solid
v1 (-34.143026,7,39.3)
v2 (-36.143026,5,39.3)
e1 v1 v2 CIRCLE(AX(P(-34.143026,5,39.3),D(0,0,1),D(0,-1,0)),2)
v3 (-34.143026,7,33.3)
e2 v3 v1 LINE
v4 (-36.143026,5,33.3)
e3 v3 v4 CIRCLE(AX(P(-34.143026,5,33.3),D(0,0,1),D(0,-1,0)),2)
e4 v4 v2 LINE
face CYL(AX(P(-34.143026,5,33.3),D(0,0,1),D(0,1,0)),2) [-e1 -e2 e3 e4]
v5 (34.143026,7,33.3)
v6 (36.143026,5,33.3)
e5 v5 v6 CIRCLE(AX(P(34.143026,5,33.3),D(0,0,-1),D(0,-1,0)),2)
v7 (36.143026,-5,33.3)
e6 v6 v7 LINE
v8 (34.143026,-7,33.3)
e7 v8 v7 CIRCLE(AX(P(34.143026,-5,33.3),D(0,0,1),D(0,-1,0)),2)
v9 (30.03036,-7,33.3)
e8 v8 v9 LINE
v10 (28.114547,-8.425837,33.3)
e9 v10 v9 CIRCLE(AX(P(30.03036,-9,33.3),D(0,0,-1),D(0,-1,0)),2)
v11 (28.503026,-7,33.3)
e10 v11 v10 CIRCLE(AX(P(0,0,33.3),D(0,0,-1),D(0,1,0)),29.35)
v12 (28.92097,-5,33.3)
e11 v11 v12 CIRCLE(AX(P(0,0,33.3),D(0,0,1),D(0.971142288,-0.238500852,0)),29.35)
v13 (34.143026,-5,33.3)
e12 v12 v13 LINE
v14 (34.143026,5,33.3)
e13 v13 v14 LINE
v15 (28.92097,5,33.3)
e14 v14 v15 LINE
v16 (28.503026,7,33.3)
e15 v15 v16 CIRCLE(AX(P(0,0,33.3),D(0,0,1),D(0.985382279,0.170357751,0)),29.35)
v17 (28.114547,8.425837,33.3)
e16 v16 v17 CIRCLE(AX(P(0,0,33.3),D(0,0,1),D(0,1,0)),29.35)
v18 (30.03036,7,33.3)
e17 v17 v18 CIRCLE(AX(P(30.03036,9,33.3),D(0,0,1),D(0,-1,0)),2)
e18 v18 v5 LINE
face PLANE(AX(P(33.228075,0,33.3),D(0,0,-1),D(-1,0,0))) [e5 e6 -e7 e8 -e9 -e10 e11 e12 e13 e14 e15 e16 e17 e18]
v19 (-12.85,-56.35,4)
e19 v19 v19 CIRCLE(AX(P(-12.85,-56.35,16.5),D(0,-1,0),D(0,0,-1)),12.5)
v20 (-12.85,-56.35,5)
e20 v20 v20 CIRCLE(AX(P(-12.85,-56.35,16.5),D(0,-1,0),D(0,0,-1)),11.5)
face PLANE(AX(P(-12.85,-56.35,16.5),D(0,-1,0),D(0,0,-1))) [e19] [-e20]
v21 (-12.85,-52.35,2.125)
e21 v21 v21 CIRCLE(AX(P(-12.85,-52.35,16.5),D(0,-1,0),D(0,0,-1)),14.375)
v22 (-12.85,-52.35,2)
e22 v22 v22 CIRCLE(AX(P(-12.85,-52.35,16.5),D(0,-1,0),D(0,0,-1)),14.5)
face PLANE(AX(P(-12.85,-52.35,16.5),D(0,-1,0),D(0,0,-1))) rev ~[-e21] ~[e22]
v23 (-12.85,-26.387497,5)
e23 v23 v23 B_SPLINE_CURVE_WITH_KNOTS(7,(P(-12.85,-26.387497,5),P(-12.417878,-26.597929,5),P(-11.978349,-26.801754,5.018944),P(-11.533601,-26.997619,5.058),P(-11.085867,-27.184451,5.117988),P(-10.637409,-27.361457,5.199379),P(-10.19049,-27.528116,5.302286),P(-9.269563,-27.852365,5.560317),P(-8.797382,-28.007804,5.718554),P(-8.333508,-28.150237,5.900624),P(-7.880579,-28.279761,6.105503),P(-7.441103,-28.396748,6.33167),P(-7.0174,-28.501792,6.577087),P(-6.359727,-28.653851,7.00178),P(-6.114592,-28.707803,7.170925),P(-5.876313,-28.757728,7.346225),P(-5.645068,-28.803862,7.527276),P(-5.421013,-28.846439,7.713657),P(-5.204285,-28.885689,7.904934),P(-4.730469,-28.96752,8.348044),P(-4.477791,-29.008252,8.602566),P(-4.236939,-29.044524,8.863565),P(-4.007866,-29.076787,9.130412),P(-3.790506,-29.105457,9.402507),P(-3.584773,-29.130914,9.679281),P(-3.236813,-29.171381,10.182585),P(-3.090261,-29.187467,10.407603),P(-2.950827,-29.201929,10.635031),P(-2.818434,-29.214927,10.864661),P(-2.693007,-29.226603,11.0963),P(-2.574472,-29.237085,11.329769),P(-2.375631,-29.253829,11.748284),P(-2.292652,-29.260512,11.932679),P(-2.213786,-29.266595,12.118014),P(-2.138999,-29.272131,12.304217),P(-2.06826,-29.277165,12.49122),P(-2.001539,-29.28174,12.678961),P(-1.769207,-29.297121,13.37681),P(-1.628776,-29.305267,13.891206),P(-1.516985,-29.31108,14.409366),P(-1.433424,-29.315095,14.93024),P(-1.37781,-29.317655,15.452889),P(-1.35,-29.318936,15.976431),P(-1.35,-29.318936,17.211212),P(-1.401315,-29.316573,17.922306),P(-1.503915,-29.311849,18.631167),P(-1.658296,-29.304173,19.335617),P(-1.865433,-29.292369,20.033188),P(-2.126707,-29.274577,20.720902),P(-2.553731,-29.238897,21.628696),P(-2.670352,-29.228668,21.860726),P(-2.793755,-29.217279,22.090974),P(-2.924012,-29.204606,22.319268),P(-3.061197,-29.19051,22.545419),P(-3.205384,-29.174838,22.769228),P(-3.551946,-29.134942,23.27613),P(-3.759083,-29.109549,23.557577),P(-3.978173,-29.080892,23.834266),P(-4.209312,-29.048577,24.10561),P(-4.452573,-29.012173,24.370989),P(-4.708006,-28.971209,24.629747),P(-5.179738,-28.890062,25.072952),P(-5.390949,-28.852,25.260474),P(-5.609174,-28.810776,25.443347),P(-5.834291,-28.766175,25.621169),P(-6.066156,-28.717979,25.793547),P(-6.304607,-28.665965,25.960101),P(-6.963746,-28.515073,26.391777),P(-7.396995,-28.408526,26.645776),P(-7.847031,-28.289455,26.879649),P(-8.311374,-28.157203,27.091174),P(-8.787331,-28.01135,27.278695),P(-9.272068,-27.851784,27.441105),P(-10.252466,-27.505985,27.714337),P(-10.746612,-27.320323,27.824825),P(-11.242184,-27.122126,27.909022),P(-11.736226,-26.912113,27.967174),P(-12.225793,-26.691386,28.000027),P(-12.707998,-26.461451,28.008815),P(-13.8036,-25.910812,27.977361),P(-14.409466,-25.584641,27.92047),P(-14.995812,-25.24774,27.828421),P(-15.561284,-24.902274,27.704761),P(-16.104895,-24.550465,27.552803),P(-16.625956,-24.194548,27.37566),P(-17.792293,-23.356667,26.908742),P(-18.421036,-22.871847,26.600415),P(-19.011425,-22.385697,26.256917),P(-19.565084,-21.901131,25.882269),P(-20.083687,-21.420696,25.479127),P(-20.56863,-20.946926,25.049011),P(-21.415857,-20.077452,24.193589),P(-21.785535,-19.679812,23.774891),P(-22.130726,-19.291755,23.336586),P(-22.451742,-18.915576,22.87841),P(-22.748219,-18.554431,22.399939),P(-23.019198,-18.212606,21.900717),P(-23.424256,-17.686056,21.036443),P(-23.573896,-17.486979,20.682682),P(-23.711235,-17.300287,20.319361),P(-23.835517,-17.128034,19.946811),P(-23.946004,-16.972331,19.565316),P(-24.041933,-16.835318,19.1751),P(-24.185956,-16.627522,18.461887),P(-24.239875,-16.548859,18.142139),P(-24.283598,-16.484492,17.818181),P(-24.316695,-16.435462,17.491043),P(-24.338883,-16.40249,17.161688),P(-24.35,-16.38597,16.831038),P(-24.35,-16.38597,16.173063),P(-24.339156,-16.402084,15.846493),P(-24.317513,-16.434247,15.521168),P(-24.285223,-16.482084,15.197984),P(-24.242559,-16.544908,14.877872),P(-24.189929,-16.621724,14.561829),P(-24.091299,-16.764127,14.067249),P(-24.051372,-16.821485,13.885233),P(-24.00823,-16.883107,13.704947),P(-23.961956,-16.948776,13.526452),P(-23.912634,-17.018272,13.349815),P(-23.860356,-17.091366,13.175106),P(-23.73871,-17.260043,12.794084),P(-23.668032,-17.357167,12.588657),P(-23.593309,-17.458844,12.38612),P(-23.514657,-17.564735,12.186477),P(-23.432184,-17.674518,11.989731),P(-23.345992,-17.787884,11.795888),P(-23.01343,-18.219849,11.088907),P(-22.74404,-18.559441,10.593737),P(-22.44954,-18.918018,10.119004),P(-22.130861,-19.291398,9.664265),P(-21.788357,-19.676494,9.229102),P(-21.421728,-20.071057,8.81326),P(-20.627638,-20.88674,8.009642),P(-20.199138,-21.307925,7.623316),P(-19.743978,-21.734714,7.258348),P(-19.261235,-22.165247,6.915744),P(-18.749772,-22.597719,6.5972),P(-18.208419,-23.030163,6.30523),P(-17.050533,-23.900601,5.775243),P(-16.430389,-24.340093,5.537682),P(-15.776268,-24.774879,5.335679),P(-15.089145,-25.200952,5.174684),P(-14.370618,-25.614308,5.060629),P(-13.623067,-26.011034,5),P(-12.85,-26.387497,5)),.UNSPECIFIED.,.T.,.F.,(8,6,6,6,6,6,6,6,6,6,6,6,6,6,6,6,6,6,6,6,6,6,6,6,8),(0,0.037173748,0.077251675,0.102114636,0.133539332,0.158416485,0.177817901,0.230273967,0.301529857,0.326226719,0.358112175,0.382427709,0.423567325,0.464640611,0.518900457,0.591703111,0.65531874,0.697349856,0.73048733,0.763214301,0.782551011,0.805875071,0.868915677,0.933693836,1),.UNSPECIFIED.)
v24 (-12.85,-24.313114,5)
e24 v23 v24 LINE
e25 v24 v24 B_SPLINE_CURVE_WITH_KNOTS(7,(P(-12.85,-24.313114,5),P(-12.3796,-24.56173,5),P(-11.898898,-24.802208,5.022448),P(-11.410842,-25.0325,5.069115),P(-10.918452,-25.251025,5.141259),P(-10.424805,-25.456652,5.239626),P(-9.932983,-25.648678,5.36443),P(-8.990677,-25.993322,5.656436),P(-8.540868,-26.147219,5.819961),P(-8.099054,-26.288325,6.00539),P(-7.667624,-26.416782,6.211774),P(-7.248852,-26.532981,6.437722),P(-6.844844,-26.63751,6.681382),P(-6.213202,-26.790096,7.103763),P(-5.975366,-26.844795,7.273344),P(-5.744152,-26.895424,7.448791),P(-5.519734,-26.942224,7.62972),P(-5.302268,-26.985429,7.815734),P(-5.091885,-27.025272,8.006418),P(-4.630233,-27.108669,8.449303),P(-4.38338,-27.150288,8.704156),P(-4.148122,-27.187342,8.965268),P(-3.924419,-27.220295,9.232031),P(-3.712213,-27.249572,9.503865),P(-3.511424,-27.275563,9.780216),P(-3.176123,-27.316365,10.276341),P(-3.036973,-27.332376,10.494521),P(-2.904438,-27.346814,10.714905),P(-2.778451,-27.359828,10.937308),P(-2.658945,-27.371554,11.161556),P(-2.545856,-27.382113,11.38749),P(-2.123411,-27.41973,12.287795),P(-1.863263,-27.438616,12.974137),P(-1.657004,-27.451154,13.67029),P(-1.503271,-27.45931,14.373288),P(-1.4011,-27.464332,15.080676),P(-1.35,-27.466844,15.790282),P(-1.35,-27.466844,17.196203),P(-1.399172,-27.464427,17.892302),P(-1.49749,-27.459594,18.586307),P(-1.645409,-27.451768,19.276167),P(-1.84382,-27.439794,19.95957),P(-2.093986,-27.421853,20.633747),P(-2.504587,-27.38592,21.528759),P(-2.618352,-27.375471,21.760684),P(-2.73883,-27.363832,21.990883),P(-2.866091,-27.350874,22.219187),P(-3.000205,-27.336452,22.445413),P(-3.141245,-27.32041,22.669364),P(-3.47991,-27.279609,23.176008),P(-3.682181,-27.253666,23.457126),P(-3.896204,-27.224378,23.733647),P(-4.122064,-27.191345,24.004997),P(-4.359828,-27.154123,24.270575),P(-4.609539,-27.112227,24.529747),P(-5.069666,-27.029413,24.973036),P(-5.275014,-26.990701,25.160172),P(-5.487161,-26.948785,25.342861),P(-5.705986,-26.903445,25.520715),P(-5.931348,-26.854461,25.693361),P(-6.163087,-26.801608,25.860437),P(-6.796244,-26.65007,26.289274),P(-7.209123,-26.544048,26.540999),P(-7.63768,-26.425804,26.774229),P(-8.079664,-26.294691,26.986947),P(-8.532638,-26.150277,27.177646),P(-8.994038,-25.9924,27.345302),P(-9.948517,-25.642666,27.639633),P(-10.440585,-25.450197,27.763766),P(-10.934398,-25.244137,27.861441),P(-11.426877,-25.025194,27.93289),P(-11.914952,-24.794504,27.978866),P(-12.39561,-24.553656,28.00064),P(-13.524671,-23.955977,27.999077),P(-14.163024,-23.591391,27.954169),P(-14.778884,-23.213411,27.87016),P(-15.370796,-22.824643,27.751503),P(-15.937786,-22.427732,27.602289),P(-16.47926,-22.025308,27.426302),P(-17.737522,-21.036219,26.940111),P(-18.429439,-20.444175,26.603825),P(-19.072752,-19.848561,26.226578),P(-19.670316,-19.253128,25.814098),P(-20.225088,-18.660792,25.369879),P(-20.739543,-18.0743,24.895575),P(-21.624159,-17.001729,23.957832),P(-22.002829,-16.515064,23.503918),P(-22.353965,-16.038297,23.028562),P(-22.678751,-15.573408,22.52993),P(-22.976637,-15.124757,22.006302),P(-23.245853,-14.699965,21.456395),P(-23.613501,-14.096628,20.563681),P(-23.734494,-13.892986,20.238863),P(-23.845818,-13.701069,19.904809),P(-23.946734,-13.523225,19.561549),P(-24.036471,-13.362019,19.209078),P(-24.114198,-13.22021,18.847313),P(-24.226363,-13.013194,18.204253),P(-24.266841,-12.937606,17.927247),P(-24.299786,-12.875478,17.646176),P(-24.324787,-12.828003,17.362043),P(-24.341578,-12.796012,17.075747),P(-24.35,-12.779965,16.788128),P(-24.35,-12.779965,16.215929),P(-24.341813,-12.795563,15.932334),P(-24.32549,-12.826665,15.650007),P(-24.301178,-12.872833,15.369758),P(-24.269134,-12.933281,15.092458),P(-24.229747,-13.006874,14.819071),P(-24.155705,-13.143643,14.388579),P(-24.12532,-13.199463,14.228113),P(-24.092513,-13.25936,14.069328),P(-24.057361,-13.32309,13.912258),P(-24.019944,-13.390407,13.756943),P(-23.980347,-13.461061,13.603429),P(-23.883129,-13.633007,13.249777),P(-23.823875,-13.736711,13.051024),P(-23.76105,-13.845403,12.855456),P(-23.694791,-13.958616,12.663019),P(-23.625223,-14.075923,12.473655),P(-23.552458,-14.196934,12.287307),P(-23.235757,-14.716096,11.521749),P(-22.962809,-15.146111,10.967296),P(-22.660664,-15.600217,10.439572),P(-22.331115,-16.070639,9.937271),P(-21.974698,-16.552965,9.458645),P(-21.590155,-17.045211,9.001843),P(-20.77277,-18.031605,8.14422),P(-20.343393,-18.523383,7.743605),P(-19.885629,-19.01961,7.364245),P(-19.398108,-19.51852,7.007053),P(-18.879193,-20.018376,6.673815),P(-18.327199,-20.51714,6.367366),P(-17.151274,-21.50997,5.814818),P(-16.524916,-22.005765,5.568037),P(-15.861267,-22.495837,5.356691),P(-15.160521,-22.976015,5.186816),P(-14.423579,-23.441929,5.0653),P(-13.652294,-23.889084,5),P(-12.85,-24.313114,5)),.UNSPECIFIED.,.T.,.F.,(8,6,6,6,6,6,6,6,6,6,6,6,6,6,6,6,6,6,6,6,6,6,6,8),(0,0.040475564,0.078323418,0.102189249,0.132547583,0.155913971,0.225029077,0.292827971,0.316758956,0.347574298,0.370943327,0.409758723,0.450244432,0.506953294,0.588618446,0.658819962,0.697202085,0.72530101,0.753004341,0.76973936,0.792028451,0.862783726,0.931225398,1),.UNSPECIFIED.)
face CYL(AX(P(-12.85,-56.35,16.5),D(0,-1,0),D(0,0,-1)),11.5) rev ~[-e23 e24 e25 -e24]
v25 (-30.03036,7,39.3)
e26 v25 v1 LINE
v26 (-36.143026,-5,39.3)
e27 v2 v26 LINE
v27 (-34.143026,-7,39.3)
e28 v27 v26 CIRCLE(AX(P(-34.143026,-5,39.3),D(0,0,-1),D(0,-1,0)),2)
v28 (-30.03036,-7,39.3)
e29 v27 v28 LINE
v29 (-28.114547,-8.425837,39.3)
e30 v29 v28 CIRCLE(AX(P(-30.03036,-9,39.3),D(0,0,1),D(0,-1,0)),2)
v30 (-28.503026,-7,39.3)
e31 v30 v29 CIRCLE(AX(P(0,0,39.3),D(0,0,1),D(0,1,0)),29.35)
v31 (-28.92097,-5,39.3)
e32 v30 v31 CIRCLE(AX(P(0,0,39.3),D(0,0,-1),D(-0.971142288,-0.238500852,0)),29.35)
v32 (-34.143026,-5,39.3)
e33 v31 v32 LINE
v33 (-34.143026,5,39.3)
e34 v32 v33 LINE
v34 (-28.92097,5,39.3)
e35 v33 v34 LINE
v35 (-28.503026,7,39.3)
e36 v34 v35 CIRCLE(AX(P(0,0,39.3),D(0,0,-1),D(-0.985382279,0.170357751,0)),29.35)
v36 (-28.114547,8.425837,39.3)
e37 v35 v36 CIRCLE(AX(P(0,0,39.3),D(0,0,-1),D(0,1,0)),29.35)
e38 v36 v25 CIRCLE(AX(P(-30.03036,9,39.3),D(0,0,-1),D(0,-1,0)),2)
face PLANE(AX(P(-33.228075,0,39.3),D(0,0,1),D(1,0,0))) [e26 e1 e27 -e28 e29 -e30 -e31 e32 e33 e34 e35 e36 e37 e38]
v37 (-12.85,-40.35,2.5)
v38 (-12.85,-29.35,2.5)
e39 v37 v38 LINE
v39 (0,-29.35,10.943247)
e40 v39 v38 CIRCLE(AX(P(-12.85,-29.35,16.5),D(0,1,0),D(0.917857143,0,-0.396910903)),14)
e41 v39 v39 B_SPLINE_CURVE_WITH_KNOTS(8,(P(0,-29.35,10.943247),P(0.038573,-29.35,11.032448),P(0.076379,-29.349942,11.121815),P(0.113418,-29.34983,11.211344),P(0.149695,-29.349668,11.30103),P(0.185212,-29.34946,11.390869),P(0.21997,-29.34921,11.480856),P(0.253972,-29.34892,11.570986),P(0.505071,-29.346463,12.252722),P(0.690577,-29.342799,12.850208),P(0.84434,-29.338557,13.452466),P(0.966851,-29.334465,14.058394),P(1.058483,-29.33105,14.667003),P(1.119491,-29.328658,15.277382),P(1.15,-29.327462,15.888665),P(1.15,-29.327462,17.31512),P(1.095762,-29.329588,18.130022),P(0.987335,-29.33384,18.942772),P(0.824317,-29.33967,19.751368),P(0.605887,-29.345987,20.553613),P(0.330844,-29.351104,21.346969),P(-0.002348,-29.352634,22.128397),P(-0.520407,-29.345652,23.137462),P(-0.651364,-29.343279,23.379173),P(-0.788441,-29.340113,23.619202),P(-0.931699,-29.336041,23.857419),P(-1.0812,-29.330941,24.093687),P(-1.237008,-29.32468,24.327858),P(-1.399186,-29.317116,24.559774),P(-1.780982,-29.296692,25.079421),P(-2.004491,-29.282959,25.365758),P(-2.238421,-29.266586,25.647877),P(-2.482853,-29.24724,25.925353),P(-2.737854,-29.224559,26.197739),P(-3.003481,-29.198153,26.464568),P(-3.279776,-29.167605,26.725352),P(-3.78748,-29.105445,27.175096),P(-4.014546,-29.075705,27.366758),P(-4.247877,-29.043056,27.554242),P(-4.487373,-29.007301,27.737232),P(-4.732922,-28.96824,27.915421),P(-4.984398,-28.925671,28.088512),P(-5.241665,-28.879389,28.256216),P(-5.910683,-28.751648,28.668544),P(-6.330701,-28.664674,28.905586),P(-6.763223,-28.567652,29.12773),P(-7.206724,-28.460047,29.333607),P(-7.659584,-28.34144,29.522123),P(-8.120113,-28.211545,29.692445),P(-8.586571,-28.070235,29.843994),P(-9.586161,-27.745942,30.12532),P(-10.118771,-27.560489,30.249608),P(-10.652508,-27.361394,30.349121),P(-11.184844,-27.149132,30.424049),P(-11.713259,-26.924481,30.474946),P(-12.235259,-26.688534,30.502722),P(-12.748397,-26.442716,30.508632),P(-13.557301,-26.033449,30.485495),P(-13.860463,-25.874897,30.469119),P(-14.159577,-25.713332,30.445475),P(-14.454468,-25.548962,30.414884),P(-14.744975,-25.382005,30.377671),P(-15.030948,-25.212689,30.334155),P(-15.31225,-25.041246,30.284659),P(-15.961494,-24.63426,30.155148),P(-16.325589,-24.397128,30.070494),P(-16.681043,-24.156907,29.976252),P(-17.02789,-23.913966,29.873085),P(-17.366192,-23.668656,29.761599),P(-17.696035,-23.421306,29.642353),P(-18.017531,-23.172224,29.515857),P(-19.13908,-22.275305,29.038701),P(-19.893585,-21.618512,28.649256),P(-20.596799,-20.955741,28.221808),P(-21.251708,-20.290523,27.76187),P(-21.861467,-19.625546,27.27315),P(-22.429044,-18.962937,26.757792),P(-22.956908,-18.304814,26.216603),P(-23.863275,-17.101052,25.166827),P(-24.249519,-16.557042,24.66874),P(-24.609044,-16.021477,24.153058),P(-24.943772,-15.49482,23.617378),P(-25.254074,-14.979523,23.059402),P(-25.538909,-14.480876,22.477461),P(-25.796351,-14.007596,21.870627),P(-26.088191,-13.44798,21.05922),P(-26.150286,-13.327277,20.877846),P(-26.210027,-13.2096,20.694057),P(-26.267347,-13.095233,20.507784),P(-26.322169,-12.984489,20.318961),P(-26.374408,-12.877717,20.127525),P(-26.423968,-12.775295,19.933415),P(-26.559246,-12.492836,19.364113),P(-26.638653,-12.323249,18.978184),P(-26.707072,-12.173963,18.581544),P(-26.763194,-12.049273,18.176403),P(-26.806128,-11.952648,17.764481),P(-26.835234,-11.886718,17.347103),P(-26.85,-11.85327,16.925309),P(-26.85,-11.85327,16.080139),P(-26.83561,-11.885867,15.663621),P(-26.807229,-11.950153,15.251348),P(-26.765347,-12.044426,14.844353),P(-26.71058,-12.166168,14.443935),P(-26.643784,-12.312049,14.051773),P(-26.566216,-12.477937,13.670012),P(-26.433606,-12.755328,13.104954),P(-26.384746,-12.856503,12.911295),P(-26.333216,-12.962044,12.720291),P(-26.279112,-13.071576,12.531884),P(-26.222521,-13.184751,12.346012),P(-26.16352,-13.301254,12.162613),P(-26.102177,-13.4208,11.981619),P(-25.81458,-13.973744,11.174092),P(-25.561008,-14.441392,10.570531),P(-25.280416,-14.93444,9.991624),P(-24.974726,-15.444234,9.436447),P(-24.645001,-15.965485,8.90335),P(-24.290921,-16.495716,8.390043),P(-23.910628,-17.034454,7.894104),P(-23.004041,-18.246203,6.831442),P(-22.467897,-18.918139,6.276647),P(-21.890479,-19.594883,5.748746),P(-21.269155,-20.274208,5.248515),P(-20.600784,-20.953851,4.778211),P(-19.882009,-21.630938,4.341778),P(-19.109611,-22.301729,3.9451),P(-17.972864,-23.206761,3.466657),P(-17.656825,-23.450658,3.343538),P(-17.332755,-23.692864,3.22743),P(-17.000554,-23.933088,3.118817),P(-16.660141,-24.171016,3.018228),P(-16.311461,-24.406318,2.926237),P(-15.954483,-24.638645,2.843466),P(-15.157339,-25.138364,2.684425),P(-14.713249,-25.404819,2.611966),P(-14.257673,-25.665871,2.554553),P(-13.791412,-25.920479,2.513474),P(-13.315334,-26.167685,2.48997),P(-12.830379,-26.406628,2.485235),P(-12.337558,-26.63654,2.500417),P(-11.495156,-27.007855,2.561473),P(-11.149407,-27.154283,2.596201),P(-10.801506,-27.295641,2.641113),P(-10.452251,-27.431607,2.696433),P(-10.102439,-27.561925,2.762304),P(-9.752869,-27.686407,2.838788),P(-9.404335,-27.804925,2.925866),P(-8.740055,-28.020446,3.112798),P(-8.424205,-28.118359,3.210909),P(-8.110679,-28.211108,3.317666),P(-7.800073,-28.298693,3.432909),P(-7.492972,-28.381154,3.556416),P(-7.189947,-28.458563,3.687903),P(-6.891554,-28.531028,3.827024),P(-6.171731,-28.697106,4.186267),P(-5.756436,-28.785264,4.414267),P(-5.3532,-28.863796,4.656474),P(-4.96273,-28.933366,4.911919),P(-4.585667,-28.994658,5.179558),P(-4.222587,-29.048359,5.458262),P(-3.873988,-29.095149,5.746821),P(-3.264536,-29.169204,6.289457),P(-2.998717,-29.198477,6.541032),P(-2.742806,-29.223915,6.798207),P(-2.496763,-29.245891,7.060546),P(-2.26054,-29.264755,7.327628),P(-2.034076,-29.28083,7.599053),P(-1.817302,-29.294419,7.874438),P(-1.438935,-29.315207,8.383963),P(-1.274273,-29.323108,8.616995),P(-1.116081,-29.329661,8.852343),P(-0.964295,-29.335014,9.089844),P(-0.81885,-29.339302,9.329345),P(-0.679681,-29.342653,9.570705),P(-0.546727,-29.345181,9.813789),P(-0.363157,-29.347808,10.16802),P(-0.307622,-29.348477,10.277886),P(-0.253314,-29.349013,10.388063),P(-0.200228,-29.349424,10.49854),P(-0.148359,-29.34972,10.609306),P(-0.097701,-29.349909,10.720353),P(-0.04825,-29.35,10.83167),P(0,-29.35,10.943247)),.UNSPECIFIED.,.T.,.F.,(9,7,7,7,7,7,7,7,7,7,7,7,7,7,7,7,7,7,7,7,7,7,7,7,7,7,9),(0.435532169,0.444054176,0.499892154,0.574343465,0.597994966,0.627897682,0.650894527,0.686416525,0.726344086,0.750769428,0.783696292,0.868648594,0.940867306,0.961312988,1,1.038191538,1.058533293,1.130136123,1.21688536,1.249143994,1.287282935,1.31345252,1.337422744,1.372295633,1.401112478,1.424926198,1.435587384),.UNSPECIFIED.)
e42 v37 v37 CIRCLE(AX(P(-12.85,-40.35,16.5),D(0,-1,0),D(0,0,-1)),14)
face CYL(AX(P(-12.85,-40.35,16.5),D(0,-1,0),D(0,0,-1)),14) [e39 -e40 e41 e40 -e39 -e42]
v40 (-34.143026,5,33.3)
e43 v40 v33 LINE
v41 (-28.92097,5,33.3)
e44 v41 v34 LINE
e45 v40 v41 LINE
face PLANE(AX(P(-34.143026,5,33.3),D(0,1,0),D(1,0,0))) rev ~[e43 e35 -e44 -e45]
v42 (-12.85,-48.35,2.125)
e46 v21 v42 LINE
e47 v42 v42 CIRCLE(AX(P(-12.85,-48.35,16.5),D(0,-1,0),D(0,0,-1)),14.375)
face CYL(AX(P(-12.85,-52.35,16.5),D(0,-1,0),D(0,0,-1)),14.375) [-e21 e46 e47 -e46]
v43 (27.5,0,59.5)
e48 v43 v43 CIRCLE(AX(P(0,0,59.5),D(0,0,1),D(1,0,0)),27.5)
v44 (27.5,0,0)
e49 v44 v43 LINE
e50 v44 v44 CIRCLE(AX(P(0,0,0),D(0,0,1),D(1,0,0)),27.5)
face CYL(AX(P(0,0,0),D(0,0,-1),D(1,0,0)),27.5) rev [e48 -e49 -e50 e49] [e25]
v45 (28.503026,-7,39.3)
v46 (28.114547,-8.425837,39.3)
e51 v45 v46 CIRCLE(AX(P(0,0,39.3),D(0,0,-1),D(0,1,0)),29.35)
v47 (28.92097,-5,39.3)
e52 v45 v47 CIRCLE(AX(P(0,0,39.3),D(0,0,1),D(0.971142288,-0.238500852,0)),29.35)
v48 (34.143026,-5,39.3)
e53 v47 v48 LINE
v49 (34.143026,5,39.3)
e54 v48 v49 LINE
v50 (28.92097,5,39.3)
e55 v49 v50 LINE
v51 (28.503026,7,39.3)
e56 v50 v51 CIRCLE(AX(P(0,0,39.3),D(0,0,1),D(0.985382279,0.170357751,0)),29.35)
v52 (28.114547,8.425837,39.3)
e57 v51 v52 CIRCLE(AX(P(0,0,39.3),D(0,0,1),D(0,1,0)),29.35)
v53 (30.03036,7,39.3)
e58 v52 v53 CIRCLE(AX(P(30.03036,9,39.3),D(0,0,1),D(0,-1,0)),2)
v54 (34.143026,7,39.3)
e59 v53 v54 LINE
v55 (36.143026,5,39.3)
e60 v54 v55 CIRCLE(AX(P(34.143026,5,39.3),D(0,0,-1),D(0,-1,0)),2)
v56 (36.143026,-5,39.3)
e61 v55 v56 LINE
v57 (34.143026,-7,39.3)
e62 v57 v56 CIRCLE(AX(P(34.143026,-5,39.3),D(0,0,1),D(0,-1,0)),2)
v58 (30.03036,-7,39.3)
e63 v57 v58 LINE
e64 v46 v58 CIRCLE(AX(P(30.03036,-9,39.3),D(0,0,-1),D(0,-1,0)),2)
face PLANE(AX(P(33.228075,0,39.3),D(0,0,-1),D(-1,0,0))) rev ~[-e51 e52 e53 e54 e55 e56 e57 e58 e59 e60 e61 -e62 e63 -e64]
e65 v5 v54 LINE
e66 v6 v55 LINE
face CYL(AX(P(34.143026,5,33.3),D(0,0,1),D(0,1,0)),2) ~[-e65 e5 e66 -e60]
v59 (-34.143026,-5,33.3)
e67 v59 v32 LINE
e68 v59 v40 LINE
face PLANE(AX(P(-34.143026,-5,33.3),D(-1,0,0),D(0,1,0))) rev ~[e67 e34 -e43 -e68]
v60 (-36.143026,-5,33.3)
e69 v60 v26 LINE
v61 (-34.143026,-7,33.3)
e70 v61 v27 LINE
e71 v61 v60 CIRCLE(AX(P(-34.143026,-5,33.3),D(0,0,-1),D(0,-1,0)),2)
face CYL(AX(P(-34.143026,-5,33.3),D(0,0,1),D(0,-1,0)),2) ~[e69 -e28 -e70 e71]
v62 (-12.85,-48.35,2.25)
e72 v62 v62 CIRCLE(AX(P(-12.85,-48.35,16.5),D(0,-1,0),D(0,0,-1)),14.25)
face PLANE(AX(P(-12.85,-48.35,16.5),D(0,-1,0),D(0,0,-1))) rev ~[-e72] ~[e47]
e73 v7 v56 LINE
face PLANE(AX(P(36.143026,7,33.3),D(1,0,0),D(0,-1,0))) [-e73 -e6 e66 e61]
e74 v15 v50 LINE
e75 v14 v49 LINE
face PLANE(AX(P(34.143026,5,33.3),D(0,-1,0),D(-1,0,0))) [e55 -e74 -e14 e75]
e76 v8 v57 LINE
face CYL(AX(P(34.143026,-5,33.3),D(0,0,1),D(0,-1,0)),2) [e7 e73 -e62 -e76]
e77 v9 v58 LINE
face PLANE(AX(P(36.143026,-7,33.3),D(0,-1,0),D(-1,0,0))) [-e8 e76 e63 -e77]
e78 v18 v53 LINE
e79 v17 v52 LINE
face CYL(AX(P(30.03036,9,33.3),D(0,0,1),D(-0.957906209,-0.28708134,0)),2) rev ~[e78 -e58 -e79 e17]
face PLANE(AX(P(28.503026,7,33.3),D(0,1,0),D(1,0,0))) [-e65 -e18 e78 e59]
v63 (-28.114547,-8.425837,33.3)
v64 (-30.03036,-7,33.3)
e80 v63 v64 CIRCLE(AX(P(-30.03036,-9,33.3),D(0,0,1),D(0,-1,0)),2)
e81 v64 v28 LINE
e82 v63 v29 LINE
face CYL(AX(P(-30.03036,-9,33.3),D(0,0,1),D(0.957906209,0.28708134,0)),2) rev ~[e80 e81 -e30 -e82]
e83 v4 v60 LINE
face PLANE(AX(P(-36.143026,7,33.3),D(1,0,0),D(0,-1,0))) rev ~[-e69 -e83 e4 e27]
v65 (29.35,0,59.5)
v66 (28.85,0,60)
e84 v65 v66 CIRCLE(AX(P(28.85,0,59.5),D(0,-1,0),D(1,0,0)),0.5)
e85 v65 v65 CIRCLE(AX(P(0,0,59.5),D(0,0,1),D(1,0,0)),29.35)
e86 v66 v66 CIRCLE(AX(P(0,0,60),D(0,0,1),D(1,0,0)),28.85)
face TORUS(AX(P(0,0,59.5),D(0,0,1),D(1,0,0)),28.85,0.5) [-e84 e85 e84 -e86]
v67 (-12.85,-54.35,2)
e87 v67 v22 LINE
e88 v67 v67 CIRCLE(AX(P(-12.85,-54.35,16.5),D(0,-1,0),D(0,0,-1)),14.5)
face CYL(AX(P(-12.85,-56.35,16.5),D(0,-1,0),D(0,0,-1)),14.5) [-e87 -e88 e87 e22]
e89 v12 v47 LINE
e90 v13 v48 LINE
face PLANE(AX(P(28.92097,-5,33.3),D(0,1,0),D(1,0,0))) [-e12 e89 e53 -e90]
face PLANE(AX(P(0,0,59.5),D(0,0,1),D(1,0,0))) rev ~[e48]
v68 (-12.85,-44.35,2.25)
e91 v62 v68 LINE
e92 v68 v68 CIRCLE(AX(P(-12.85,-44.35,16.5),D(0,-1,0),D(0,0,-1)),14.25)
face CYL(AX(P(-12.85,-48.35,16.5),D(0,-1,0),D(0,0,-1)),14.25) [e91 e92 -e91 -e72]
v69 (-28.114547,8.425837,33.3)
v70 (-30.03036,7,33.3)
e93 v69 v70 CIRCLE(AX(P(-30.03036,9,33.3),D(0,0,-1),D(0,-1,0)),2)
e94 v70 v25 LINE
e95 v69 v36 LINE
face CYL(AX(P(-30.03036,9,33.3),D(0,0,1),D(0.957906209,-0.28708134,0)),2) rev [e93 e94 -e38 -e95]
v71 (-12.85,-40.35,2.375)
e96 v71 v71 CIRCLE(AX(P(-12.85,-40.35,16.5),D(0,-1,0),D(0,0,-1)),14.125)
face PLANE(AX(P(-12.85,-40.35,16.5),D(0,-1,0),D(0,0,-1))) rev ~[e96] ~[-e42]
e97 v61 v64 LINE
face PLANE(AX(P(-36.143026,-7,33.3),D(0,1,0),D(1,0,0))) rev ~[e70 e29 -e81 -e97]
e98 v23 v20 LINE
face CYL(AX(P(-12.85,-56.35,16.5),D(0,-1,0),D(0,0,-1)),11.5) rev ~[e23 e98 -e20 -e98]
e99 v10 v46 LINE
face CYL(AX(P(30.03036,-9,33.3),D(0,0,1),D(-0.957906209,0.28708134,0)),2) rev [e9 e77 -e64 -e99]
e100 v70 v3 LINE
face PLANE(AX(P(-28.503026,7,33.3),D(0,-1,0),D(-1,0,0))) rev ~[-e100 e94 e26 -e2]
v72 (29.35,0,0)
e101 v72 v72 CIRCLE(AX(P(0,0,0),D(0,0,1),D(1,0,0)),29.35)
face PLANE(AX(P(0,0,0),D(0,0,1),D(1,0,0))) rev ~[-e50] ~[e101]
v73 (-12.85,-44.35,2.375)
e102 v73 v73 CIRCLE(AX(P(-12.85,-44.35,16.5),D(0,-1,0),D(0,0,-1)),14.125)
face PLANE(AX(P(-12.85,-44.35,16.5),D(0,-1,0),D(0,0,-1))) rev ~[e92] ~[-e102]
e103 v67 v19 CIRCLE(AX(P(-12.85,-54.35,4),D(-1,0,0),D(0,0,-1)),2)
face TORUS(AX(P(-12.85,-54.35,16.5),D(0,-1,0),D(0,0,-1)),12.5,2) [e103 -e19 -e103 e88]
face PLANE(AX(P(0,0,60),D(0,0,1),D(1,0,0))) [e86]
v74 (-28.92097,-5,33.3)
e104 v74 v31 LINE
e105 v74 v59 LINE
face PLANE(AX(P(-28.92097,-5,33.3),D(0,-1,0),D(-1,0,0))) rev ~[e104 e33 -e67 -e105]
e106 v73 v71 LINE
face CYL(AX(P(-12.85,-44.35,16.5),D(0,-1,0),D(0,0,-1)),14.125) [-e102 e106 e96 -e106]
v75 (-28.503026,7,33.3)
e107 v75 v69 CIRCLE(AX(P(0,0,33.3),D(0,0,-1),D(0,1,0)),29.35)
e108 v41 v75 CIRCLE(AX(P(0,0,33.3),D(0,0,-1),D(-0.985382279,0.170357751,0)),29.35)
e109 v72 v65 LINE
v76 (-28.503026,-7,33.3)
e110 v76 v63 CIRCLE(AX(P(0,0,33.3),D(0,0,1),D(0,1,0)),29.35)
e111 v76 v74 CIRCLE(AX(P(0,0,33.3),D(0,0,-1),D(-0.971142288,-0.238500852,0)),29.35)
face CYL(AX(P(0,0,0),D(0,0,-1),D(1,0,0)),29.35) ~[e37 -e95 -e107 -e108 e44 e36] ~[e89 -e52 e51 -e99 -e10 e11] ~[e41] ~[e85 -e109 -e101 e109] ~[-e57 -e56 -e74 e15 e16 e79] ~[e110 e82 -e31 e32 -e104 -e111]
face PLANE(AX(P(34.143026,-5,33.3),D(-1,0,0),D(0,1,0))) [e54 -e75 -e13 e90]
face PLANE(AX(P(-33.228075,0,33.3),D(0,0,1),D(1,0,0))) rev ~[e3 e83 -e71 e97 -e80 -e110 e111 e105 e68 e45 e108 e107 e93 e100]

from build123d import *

# Parameters (mm, degrees)
SKETCH1_R           = 29.35
SKETCH1_R_2         = 27.5
BOSS_EXTRUDE1_DEPTH = 60
BOSS_EXTRUDE2_DEPTH = 6
FILLET1_R           = 2
FILLET2_R           = 0.5
BOSS_EXTRUDE3_REACH = 93.389
SKETCH3_R           = 14
SKETCH3_R_2         = 11.5
BOSS_EXTRUDE4_START = 11
SKETCH3_3_R         = 14
SKETCH3_3_R_2       = 11.5
BOSS_EXTRUDE4_DEPTH = 11
BOSS_EXTRUDE5_START = 4
SKETCH4_R           = 14.125
SKETCH4_R_2         = 11.5
BOSS_EXTRUDE5_DEPTH = 4
BOSS_EXTRUDE6_START = 4
SKETCH5_R           = 14.25
SKETCH5_R_2         = 11.5
BOSS_EXTRUDE6_DEPTH = 4
BOSS_EXTRUDE7_START = 4
SKETCH6_R           = 14.375
SKETCH6_R_2         = 11.5
BOSS_EXTRUDE7_DEPTH = 4
BOSS_EXTRUDE8_START = 4
SKETCH7_R           = 14.5
SKETCH7_R_2         = 11.5
BOSS_EXTRUDE8_DEPTH = 4
FILLET3_R           = 2
CUT_EXTRUDE1_REACH  = 112.683
SKETCH8_R           = 11.5
BOSS_EXTRUDE9_START = -0.5
SKETCH9_R           = 27.5
BOSS_EXTRUDE9_DEPTH = 0.5


with BuildPart() as part:
    # Sketch1 → Boss-Extrude1 (new body)
    with BuildSketch(Plane.XY):
        Circle(SKETCH1_R)
        Circle(SKETCH1_R_2, mode=Mode.SUBTRACT)
    extrude(amount=BOSS_EXTRUDE1_DEPTH)

    # Sketch2 → Boss-Extrude2 (add)
    with BuildSketch(Plane.XY.offset(33.3)):
        with BuildLine():
            Line((-28.503026155, 7), (-36.143026155, 7))
            Line((-36.143026155, 7), (-36.143026155, -7))
            Line((-36.143026155, -7), (-28.503026155, -7))
            ThreePointArc((-28.503026155, -7), (-28.729407073, -6.003638001), (-28.920969901, -5))
            Line((-28.920969901, -5), (-34.143026155, -5))
            Line((-34.143026155, -5), (-34.143026155, 5))
            Line((-34.143026155, 5), (-28.920969901, 5))
            ThreePointArc((-28.920969901, 5), (-28.729407073, 6.003638001), (-28.503026155, 7))
        make_face()
        with BuildLine():
            Line((28.503026155, 7), (36.143026155, 7))
            Line((36.143026155, 7), (36.143026155, -7))
            Line((36.143026155, -7), (28.503026155, -7))
            ThreePointArc((28.503026155, -7), (28.729407073, -6.003638001), (28.920969901, -5))
            Line((28.920969901, -5), (34.143026155, -5))
            Line((34.143026155, -5), (34.143026155, 5))
            Line((34.143026155, 5), (28.920969901, 5))
            ThreePointArc((28.920969901, 5), (28.729407073, 6.003638001), (28.503026155, 7))
        make_face()
    extrude(amount=BOSS_EXTRUDE2_DEPTH)

    # Fillet1
    fillet1_edges = [part.edges().sort_by_distance(p)[0] for p in [
        (-28.503026155, 7, 36.3),
        (-36.143026155, 7, 36.3),
        (-36.143026155, -7, 36.3),
        (-28.503026155, -7, 36.3),
        (28.503026155, -7, 36.3),
        (36.143026155, -7, 36.3),
        (36.143026155, 7, 36.3),
        (28.503026155, 7, 36.3),
    ]]
    fillet(fillet1_edges, radius=FILLET1_R)

    # Fillet2
    fillet2_edges = [part.edges().sort_by_distance(p)[0] for p in [
        (-29.35, 0, 60),
    ]]
    fillet(fillet2_edges, radius=FILLET2_R)

    # Sketch3 → Boss-Extrude3 (add, up to next)
    with BuildSketch(Plane(origin=(0, -29.35, 0), x_dir=(-1, 0, 0), z_dir=(0, -1, 0)), mode=Mode.PRIVATE) as boss_extrude3_sk1:
        with Locations((12.85, -16.5)):
            Circle(SKETCH3_R)
        with Locations(Location((12.85, -16.5, 0), (0, 0, 90))):
            Circle(SKETCH3_R_2, mode=Mode.SUBTRACT)
    boss_extrude3_tool1 = extrude(boss_extrude3_sk1.sketch, amount=-BOSS_EXTRUDE3_REACH, mode=Mode.PRIVATE) - part.part
    add(boss_extrude3_tool1.solids().sort_by_distance((0.75402, -29.35, 16.5))[0])
    add(boss_extrude3_tool1.solids().sort_by_distance((0.75402, -29.35, 16.5))[1])

    # Sketch3<3> → Boss-Extrude4 (add)
    with BuildSketch(Plane(origin=(0, -29.35, 0), x_dir=(-1, 0, 0), z_dir=(0, -1, 0)).offset(BOSS_EXTRUDE4_START)):
        with Locations(Location((12.85, -16.5, 0), (0, 0, 90))):
            Circle(SKETCH3_3_R)
        with Locations(Location((12.85, -16.5, 0), (0, 0, 90))):
            Circle(SKETCH3_3_R_2, mode=Mode.SUBTRACT)
    extrude(amount=-BOSS_EXTRUDE4_DEPTH)

    # Sketch4 → Boss-Extrude5 (add)
    with BuildSketch(Plane(origin=(0, -40.35, 0), x_dir=(-1, 0, 0), z_dir=(0, -1, 0)).offset(BOSS_EXTRUDE5_START)):
        with Locations(Location((12.85, -16.5, 0), (0, 0, 90))):
            Circle(SKETCH4_R)
        with Locations(Location((12.85, -16.5, 0), (0, 0, 90))):
            Circle(SKETCH4_R_2, mode=Mode.SUBTRACT)
    extrude(amount=-BOSS_EXTRUDE5_DEPTH)

    # Sketch5 → Boss-Extrude6 (add)
    with BuildSketch(Plane.XZ.offset(44.35).offset(BOSS_EXTRUDE6_START)):
        with Locations(Location((-12.85, 16.5, 0), (0, 0, 270))):
            Circle(SKETCH5_R)
        with Locations(Location((-12.85, 16.5, 0), (0, 0, 270))):
            Circle(SKETCH5_R_2, mode=Mode.SUBTRACT)
    extrude(amount=-BOSS_EXTRUDE6_DEPTH)

    # Sketch6 → Boss-Extrude7 (add)
    with BuildSketch(Plane.XZ.offset(48.35).offset(BOSS_EXTRUDE7_START)):
        with Locations(Location((-12.85, 16.5, 0), (0, 0, 270))):
            Circle(SKETCH6_R)
        with Locations(Location((-12.85, 16.5, 0), (0, 0, 270))):
            Circle(SKETCH6_R_2, mode=Mode.SUBTRACT)
    extrude(amount=-BOSS_EXTRUDE7_DEPTH)

    # Sketch7 → Boss-Extrude8 (add)
    with BuildSketch(Plane(origin=(0, -52.35, 0), x_dir=(-1, 0, 0), z_dir=(0, -1, 0)).offset(BOSS_EXTRUDE8_START)):
        with Locations(Location((12.85, -16.5, 0), (0, 0, 90))):
            Circle(SKETCH7_R)
        with Locations(Location((12.85, -16.5, 0), (0, 0, 90))):
            Circle(SKETCH7_R_2, mode=Mode.SUBTRACT)
    extrude(amount=-BOSS_EXTRUDE8_DEPTH)

    # Fillet3
    fillet3_edges = [part.edges().sort_by_distance(p)[0] for p in [
        (-12.85, -56.35, 31),
    ]]
    fillet(fillet3_edges, radius=FILLET3_R)

    # Sketch8 → Cut-Extrude1 (cut, up to next)
    with BuildSketch(Plane.XZ.offset(56.35), mode=Mode.PRIVATE) as cut_extrude1_sk1:
        with Locations(Location((-12.85, 16.5, 0), (0, 0, 270))):
            Circle(SKETCH8_R)
    cut_extrude1_tool1 = extrude(cut_extrude1_sk1.sketch, amount=-CUT_EXTRUDE1_REACH, mode=Mode.PRIVATE) & part.part
    add(cut_extrude1_tool1.solids().sort_by_distance((-12.85, -56.35, 16.5))[0], mode=Mode.SUBTRACT)

    # Sketch9 → Boss-Extrude9 (add)
    with BuildSketch(Plane.XY.offset(60).offset(BOSS_EXTRUDE9_START)):
        Circle(SKETCH9_R)
    extrude(amount=BOSS_EXTRUDE9_DEPTH)


solid = part.part
